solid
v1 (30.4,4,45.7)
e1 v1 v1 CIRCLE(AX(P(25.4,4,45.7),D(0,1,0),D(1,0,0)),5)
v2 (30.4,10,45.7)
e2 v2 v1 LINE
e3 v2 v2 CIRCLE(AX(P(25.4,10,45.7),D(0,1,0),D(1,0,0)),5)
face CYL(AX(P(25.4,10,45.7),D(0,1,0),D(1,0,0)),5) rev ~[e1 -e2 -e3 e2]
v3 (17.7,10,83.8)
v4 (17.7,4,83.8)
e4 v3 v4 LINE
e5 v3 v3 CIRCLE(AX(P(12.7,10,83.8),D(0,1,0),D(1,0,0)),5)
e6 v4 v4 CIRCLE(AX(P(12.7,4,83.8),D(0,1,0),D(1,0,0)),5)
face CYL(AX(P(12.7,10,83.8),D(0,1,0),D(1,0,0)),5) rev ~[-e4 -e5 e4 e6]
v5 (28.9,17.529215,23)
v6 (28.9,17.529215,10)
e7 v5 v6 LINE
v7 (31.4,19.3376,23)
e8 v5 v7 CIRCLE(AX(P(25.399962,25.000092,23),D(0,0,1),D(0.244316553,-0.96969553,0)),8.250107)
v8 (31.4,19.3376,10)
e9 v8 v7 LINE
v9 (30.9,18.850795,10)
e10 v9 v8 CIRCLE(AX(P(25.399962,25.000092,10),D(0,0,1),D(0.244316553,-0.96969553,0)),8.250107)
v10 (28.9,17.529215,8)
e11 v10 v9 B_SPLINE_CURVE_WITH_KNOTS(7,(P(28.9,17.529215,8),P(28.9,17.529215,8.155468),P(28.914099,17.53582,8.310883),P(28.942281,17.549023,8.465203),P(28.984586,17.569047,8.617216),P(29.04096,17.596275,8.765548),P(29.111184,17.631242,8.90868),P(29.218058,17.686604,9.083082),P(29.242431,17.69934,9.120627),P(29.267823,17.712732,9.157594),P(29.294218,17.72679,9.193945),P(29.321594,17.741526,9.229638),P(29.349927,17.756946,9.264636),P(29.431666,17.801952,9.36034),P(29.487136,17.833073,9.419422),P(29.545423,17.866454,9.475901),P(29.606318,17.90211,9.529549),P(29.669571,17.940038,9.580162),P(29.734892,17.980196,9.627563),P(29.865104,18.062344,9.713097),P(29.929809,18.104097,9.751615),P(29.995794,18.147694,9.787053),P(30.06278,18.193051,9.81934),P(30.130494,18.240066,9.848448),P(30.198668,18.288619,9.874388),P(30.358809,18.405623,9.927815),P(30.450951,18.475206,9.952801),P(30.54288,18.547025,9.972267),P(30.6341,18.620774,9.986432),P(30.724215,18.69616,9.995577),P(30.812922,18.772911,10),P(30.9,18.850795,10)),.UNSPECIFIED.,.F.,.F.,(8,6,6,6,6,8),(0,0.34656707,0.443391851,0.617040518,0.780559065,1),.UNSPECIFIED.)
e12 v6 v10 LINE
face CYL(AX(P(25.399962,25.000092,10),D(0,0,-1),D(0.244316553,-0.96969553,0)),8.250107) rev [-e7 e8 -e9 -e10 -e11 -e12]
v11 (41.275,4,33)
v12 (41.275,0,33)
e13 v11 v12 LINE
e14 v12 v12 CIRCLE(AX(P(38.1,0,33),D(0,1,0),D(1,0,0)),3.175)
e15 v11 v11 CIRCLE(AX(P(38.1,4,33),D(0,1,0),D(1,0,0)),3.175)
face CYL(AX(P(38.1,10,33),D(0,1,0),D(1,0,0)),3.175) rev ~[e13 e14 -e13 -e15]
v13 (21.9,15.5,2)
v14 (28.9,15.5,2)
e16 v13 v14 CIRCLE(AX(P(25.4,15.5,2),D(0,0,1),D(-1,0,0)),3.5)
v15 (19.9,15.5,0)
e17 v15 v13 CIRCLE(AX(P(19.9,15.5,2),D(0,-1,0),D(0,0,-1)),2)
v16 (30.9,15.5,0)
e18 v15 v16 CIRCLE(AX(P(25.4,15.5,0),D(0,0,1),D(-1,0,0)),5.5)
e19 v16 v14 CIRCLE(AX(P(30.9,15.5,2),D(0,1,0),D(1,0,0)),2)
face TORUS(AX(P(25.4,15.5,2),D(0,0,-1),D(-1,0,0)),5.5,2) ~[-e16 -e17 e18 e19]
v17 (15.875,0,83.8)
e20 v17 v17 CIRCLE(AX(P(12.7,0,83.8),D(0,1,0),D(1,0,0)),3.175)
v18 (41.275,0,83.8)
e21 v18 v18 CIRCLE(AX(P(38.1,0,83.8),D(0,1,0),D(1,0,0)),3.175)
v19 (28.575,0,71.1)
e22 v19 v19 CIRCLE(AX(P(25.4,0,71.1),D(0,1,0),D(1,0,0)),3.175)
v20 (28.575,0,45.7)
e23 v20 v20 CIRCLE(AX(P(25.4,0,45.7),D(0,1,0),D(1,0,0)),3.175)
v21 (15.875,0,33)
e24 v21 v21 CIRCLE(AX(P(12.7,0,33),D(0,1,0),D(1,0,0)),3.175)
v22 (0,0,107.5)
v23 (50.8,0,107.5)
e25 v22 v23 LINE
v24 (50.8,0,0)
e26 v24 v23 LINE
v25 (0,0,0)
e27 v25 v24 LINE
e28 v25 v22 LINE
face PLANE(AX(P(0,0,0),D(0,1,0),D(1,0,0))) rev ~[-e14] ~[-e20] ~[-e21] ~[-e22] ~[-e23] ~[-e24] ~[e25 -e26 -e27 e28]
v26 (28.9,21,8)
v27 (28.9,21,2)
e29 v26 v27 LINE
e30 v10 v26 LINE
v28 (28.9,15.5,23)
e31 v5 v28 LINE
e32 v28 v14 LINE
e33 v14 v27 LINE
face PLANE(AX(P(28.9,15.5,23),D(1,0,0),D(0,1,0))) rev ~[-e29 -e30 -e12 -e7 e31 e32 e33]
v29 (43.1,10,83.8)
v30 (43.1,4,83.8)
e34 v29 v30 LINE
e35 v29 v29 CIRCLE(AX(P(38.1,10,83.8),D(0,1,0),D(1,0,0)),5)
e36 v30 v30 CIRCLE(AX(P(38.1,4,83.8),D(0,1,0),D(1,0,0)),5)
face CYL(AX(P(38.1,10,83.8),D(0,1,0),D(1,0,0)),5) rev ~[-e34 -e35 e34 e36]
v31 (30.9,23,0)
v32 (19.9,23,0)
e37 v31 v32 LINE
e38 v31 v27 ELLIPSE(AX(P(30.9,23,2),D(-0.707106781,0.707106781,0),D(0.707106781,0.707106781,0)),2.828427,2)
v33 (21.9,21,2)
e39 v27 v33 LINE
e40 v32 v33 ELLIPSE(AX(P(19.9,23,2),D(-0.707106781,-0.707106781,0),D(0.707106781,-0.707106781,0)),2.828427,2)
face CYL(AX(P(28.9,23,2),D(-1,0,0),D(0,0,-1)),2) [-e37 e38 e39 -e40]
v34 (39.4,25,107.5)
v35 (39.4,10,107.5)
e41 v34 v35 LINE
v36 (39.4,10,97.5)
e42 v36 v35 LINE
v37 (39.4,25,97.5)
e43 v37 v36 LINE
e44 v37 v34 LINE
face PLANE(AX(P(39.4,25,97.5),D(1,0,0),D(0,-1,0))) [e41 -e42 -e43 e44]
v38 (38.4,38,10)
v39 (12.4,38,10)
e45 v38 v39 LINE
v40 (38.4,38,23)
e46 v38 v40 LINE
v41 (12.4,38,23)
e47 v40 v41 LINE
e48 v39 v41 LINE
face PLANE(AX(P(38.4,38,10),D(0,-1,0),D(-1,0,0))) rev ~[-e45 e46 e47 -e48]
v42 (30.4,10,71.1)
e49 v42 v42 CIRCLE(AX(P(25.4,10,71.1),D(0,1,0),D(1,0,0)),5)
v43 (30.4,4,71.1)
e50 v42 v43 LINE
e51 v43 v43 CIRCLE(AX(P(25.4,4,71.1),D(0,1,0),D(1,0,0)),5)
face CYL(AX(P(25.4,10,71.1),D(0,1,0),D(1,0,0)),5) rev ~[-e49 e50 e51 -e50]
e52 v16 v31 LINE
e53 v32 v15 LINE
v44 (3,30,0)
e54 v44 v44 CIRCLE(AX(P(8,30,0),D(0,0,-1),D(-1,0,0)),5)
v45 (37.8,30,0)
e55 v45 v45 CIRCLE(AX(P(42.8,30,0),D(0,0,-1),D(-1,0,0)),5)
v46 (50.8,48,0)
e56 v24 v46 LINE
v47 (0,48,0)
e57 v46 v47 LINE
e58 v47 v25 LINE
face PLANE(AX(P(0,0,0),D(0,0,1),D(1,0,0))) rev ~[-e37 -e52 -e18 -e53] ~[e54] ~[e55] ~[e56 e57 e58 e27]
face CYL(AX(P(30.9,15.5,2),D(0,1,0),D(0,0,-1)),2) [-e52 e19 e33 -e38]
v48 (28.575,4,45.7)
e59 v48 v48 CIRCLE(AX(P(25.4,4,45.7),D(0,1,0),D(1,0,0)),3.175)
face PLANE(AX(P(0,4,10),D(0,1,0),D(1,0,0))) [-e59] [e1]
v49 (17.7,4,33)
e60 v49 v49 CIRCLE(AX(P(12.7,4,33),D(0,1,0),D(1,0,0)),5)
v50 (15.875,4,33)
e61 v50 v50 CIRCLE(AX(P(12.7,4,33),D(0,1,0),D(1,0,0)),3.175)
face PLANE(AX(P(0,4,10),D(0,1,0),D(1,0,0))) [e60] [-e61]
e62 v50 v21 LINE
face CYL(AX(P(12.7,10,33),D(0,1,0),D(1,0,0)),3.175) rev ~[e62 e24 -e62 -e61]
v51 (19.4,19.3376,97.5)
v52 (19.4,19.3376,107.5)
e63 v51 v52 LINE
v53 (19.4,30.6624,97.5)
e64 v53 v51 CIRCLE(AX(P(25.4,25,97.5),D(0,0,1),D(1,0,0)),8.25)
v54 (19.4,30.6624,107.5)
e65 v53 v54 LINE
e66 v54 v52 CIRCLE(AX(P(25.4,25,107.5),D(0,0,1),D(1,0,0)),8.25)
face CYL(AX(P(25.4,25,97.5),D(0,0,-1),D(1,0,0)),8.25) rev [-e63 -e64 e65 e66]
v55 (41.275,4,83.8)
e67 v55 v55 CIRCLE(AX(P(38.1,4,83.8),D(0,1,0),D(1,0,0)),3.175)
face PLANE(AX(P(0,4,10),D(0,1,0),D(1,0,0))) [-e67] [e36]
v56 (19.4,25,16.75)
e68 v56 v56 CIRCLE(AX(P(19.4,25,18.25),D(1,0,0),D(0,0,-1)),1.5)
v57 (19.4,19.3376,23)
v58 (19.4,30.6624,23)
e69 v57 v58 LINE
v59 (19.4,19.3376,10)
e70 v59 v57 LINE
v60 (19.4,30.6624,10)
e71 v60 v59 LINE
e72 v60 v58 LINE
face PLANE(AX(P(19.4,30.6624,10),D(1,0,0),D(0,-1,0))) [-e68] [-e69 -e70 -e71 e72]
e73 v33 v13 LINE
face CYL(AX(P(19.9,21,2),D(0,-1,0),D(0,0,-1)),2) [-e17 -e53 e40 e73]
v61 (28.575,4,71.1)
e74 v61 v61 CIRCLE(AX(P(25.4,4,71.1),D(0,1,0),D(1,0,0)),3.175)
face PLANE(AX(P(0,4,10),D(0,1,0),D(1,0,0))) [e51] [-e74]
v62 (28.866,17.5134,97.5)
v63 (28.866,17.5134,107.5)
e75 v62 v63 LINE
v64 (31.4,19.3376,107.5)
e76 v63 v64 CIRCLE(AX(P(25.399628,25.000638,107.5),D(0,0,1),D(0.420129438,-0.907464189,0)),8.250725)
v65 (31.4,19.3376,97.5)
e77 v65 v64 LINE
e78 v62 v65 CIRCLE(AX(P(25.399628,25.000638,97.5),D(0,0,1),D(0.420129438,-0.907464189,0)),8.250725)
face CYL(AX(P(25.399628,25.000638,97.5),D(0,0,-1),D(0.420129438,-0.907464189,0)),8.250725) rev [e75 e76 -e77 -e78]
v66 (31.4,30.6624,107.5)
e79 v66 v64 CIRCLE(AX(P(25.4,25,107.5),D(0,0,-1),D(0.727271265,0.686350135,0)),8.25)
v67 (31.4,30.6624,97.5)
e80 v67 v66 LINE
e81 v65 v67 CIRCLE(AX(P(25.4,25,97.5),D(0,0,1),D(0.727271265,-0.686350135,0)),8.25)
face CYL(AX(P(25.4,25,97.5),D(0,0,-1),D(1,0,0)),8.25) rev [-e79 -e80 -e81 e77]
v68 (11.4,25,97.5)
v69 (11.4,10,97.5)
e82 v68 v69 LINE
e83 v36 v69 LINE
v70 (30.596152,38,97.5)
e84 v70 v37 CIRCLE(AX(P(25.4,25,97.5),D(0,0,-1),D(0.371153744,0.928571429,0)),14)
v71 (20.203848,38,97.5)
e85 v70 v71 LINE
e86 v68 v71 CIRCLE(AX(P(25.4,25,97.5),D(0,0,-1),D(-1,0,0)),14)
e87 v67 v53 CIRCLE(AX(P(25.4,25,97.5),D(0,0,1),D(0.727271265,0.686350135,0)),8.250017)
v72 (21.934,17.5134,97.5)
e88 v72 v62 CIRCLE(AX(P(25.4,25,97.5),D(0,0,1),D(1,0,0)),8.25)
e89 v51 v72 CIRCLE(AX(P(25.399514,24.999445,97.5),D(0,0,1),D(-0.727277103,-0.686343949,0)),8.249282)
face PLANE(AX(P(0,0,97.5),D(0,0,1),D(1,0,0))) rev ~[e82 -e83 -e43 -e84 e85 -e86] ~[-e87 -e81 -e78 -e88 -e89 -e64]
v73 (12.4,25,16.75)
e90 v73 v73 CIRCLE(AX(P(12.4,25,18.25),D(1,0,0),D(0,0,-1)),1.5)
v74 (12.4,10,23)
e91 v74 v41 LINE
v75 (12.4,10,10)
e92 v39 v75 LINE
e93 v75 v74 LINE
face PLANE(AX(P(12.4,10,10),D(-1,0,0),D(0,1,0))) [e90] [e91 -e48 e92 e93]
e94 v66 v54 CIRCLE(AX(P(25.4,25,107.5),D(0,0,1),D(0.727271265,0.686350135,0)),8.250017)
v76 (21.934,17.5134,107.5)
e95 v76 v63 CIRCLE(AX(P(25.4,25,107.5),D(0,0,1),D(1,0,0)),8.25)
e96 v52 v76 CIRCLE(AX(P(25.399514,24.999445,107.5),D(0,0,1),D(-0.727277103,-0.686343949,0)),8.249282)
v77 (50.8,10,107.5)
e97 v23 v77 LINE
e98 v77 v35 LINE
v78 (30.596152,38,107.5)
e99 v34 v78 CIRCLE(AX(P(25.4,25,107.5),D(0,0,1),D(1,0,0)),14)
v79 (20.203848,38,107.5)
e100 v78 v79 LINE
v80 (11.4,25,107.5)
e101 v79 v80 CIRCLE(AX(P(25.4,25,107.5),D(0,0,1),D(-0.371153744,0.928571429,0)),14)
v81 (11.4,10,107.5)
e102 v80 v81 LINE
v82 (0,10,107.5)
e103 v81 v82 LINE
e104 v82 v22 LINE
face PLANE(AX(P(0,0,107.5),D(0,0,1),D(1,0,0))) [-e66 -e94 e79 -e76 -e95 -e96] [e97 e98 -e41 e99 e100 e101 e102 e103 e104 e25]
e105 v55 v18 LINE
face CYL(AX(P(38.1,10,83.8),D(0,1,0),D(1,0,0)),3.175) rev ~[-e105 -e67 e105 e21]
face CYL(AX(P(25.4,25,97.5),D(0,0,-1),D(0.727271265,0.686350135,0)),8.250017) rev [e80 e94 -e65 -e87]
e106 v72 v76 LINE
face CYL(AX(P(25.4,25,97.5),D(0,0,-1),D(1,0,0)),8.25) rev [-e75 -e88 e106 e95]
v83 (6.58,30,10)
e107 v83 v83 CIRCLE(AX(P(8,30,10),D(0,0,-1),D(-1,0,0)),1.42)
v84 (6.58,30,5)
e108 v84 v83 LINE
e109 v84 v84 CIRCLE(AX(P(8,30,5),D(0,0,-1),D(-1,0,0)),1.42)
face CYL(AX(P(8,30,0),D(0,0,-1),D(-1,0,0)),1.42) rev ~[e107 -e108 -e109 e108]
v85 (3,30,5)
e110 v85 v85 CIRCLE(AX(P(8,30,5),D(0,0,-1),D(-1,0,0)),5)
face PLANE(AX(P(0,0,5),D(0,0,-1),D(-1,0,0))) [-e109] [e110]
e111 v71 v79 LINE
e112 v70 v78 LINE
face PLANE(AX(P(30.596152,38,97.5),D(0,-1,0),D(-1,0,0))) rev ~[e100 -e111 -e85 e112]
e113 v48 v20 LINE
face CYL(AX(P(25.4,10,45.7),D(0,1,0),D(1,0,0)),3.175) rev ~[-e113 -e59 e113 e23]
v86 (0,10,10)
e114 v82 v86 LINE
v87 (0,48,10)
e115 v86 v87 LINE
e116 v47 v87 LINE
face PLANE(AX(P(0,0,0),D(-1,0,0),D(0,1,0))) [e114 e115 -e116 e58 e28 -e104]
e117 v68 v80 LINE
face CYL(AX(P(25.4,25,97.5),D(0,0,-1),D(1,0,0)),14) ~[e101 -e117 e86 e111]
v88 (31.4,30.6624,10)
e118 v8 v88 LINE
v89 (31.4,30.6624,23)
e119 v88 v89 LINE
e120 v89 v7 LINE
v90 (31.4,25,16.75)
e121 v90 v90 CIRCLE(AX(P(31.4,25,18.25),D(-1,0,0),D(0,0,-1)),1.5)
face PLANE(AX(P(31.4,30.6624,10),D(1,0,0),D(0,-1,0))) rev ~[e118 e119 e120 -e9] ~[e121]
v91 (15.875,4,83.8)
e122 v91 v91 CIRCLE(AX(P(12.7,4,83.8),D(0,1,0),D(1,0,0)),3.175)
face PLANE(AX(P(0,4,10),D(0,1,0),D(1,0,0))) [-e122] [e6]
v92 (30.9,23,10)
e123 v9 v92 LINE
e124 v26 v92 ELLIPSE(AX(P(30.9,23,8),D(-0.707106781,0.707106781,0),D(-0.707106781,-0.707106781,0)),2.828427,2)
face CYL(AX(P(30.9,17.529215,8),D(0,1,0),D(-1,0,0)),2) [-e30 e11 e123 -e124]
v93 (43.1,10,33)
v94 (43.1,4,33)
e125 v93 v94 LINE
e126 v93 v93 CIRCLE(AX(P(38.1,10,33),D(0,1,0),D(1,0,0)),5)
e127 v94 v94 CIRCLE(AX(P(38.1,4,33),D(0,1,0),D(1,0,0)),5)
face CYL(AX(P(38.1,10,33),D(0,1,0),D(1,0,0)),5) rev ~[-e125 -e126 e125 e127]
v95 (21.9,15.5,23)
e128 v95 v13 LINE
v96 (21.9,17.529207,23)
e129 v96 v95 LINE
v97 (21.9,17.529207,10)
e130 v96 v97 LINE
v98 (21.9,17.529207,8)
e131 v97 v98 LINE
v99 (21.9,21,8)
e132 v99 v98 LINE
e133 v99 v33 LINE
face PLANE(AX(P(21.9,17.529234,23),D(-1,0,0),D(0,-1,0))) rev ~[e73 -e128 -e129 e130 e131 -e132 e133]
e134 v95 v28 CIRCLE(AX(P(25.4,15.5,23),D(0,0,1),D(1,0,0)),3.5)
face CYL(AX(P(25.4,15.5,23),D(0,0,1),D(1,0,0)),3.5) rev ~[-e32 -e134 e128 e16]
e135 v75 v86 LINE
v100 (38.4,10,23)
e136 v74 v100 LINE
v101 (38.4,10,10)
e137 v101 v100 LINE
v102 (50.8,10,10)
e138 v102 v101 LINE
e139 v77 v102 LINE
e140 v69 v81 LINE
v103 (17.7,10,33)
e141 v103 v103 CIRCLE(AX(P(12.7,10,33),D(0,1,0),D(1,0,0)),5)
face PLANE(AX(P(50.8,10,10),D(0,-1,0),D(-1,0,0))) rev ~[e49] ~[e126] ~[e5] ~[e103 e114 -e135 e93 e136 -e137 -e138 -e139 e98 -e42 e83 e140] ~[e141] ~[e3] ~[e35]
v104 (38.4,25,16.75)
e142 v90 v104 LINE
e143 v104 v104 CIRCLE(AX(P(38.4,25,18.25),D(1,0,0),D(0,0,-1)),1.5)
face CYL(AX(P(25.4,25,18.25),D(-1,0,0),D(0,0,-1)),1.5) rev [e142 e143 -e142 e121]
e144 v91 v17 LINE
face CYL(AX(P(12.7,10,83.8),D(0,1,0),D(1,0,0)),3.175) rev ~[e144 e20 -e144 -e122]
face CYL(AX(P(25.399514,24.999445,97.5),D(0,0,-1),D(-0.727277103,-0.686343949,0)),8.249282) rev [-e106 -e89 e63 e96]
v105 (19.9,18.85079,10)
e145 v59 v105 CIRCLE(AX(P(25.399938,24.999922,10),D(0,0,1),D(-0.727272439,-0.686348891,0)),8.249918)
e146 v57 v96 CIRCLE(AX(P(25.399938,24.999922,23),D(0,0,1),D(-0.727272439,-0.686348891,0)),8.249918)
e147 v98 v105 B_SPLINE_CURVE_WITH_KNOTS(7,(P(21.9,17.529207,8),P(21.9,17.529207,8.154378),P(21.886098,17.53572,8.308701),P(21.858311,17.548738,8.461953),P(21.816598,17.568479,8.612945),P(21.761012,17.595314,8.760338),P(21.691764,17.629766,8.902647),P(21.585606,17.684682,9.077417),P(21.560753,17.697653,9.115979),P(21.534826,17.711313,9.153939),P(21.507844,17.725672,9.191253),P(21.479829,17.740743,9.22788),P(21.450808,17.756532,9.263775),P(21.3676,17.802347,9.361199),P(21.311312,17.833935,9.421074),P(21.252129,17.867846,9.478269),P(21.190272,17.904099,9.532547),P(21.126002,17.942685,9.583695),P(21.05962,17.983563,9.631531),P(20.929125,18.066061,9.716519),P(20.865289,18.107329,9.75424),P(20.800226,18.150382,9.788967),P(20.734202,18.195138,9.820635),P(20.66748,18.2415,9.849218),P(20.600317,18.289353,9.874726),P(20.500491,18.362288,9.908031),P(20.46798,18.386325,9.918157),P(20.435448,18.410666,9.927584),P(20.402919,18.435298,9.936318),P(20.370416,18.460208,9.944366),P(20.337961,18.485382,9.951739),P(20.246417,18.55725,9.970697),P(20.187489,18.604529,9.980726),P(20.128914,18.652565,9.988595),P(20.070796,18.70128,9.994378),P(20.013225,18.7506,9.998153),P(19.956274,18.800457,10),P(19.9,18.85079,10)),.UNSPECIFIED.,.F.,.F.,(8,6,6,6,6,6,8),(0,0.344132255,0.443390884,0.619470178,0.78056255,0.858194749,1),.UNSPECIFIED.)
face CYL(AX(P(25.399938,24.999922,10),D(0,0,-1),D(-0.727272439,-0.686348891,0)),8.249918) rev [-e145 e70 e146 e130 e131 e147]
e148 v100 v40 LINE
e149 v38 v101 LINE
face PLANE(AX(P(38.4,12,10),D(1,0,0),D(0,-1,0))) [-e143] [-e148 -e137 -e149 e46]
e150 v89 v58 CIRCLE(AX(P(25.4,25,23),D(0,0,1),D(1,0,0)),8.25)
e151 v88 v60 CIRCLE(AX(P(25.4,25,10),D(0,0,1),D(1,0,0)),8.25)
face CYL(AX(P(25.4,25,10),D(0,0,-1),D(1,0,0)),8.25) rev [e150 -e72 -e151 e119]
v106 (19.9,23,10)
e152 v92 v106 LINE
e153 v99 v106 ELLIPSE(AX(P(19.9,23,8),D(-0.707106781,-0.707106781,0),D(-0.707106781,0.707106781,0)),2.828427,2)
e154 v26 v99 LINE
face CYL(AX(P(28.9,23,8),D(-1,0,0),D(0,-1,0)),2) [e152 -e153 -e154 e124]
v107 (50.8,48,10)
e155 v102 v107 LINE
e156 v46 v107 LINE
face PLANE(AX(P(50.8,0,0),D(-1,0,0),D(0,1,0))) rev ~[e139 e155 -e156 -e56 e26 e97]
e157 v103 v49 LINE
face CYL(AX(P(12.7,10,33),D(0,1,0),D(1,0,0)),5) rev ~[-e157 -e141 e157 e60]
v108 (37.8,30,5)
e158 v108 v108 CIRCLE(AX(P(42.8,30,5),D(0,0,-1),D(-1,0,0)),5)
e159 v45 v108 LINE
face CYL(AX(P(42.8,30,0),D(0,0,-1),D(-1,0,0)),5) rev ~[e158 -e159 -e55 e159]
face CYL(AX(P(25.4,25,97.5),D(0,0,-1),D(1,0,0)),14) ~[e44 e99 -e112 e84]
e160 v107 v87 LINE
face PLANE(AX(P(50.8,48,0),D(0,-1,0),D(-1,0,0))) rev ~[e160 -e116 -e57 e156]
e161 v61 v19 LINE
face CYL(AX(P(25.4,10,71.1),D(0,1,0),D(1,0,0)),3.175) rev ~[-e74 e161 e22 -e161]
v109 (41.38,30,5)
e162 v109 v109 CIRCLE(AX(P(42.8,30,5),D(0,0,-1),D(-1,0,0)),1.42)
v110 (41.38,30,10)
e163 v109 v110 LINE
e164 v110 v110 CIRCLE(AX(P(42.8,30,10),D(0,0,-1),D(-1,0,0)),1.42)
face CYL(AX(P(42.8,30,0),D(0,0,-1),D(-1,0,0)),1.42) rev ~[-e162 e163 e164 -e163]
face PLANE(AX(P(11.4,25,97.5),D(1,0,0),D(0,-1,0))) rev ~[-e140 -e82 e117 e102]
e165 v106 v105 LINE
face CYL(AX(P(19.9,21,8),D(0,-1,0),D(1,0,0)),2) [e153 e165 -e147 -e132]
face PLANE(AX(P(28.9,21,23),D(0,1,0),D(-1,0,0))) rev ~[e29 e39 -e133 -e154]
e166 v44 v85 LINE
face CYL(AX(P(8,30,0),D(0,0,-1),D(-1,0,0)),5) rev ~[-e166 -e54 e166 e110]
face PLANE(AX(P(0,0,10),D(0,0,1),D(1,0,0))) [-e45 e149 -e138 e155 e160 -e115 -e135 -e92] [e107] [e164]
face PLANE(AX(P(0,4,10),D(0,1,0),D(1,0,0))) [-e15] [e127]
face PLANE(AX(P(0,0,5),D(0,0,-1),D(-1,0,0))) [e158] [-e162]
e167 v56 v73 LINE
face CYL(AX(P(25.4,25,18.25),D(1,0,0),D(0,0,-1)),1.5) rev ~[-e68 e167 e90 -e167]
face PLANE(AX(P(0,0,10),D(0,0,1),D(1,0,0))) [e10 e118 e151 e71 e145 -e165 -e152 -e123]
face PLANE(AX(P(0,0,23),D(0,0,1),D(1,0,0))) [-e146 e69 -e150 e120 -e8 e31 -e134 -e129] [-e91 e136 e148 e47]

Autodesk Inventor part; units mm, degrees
ref_plane "YZ Plane" through (0, 0, 0) normal (1, 0, 0) x (0, 1, 0)
ref_plane "XZ Plane" through (0, 0, 0) normal (0, 1, 0) x (-1, 0, 0)
sketch "Sketch1" plane through (0, 0, 0) normal (0, 0, 1) x (1, 0, 0)
  line L0 (0, 0) -> (0, 4)
  line L1 (0, 4) -> (0, 10)
  line L2 (0, 10) -> (0, 38)
  line L3 (0, 38) -> (0, 48)
  line L4 (0, 0) -> (50.8, 0)
  line L5 (50.8, 0) -> (50.8, 48)
  line L6 (50.8, 48) -> (0, 48)
  dimension "d1" = 4
  dimension "d2" = 6
  dimension "d3" = 28
  dimension "d4" = 10
  dimension "d5" = 50.8
extrude "Extrusion1" add sketch "Sketch1" along normal blind 10
sketch "Sketch2" plane through (0, 0, 10) normal (0, 0, 1) x (1, 0, 0)
  line L0 (50.8, 48) -> (0, 48) projected
  line L1 (0, 48) -> (0, 0) projected
  line L2 (0, 0) -> (50.8, 0) projected
  line L3 (50.8, 0) -> (50.8, 48) projected
  line L4 (0, 0) -> (50.8, 0)
  line L5 (50.8, 0) -> (50.8, 10)
  line L6 (50.8, 10) -> (0, 10)
  line L7 (0, 10) -> (0, 0)
  point P0 (0, 10)
  dimension "d8" = 10
extrude "Extrusion2" add sketch "Sketch2" along normal blind 87.5 contours L3 L2 L1 L6
sketch "Sketch3" plane through (0, 0, 10) normal (0, 0, 1) x (1, 0, 0)
  line L0 (0, 10) -> (50.8, 10) projected
  line L1 (50.8, 10) -> (50.8, 48) projected
  line L2 (50.8, 48) -> (0, 48) projected
  line L3 (0, 48) -> (0, 10) projected
  line L4 (12.4, 12) -> (38.4, 12)
  line L5 (38.4, 12) -> (38.4, 38)
  line L6 (38.4, 38) -> (12.4, 38)
  line L7 (12.4, 38) -> (12.4, 12)
  line L8 (50.8, 10) -> (0, 10) projected
  line L9 (38.4, 10) -> (12.4, 10)
  line L10 (12.4, 12) -> (38.4, 12)
  line L11 (38.4, 12) -> (38.4, 10)
  line L12 (38.4, 10) -> (12.4, 10)
  line L13 (12.4, 10) -> (12.4, 12)
  arc A0 (28.9, 20.1266) -> (21.9, 20.1266) centre (25.4, 25) ccw
  line L14 (19.4, 30.6624) -> (19.4, 19.3376)
  line L15 (31.4, 30.6624) -> (31.4, 19.3376)
  line L16 (23.3844, 17) -> (27.4156, 17)
  arc A1 (19.4, 19.3376) -> (23.3844, 17) centre (25.4, 25) ccw
  arc A2 (27.4156, 17) -> (31.4, 19.3376) centre (25.4, 25) ccw
  arc A3 (21.9, 18) -> (28.9, 18) centre (25.4, 18) ccw
  line L17 (21.9, 18) -> (28.9, 18)
  line L18 (28.9, 18) -> (28.9, 20.1266)
  line L19 (21.9, 20.1266) -> (21.9, 18)
  circle A4 centre (25.4, 25) radius 8.25
  point P0 (0, 0)
  point P1 (25.4, 10)
  point P2 (25.4, 12)
  point P3 (38.4, 25)
  point P4 (12.4, 25)
  point P5 (25.4, 38)
  point P6 (19.4, 25)
  point P7 (28.866, 17.5134)
  point P8 (21.934, 17.5134)
  dimension "d12" = 0
  dimension "d13" = 26
  dimension "d14" = 26
  dimension "d19" = 10
  dimension "d22" = 0
  dimension "d23" = 0
  dimension "d25" = 12
  dimension "d26" = 0
  dimension "d27" = 0
  dimension "d28" = 7
  dimension "d29" = 0
  dimension "d31" = 7
  dimension "d32" = 16.5
extrude "Extrusion3" add sketch "Sketch3" along normal blind 13 contours L13 L4 L11 L0 | L7 L6 L5 L4 | L15 A4 | L14 A4
ref_plane "Work Plane1" through (25.4, 10, 10) normal (1, 0, 0) x (0, 0, -1)
sketch "Sketch4" plane through (25.4, 10, 10) normal (1, 0, 0) x (0, 0, -1)
  line L0 (0, 20.6624) -> (0, 9.3376) projected
  line L1 (0, 20.6624) -> (-13, 20.6624) projected
  line L2 (-13, 9.3376) -> (-13, 20.6624) projected
  line L3 (0, 9.3376) -> (-13, 9.3376) projected
  circle A0 centre (-8.25, 15) radius 1.5
  point P0 (10, -10)
  point P1 (-13, 15)
  dimension "d34" = 0
  dimension "d35" = 8.25
  dimension "d36" = 3
extrude "Extrusion4" cut sketch "Sketch4" along normal mid plane 26 contours A0
sketch "Sketch5" plane through (0, 10, 97.5) normal (0, 1, 0) x (1, 0, 0)
  line L0 (12.4, 74.5) -> (12.4, 87.5) projected
  line L1 (0, 87.5) -> (12.4, 87.5) projected
  line L2 (0, 87.5) -> (0, 0) projected
  line L3 (50.8, 0) -> (0, 0) projected
  line L4 (50.8, 87.5) -> (50.8, 0) projected
  line L5 (38.4, 87.5) -> (50.8, 87.5) projected
  line L6 (38.4, 87.5) -> (38.4, 74.5) projected
  line L7 (38.4, 74.5) -> (12.4, 74.5) projected
  circle A0 centre (25.4, 51.8) radius 3.175
  line L8 (50.8, 87.5) -> (0, 87.5) projected
  circle A1 centre (12.7, 64.5) radius 3.175
  circle A2 centre (38.1, 64.5) radius 3.175
  line L9 (-10.8452, 39.1) -> (75.4395, 39.1)
  circle A3 centre (25.4, 26.4) radius 3.175
  circle A4 centre (12.7, 13.7) radius 3.175
  circle A5 centre (38.1, 13.7) radius 3.175
  point P0 (0, 97.5)
  point P1 (25.4, 0)
  dimension "d39" = 35.7
  dimension "d40" = 0
  dimension "d41" = 6.35
  dimension "d42" = 12.7
  dimension "d43" = 12.7
  dimension "d44" = 12.7
  dimension "d45" = 12.7
  dimension "d46" = 12.7
  dimension "d73" = 6.35
  dimension "d74" = 6.35
extrude "Extrusion5" cut sketch "Sketch5" against normal blind 26 contours A0 | A1 | A2 | A3 | A4 | A5
sketch "Sketch6" plane through (0, 0, 0) normal (0, 0, -1) x (-1, 0, 0)
  line L0 (-12.4, 10) -> (-12.4, 38) projected
  line L1 (-12.4, 38) -> (-38.4, 38) projected
  line L2 (-38.4, 38) -> (-38.4, 10) projected
  line L3 (-38.4, 10) -> (-50.8, 10) projected
  line L4 (-50.8, 10) -> (-50.8, 48) projected
  line L5 (-50.8, 48) -> (0, 48) projected
  line L6 (0, 48) -> (0, 10) projected
  line L7 (0, 10) -> (-12.4, 10) projected
  circle A0 centre (-42.8, 30) radius 1.42
  line L8 (-25.4, -18.8015) -> (-25.4, 63.6237)
  circle A1 centre (-8, 30) radius 1.42
  point P0 (0, 0)
  point P1 (-25.4, 48)
  dimension "d49" = 0
  dimension "d50" = 8
  dimension "d51" = 8
  dimension "d52" = 2.84
extrude "Extrusion6" cut sketch "Sketch6" against normal blind 26 contours A0 | A1
sketch "Sketch7" plane through (0, 0, 97.5) normal (0, 0, 1) x (1, 0, 0)
  line L0 (0, 10) -> (0, 0) projected
  line L1 (0, 0) -> (50.8, 0) projected
  line L2 (50.8, 0) -> (50.8, 10) projected
  line L3 (50.8, 10) -> (0, 10) projected
  line L4 (12.4, 38) -> (12.4, 10) projected
  line L5 (38.4, 10) -> (12.4, 10) projected
  line L6 (38.4, 10) -> (38.4, 38) projected
  line L7 (38.4, 38) -> (12.4, 38) projected
  arc A0 (31.4, 30.6624) -> (19.4, 30.6624) centre (25.4, 25) ccw projected
  line L8 (31.4, 30.6624) -> (31.4, 19.3376) projected
  arc A1 (28.866, 17.5134) -> (31.4, 19.3376) centre (25.4, 25) ccw projected
  arc A2 (21.934, 17.5134) -> (28.866, 17.5134) centre (25.4, 18) ccw projected
  arc A3 (19.4, 19.3376) -> (21.934, 17.5134) centre (25.4, 25) ccw projected
  line L9 (19.4, 19.3376) -> (19.4, 30.6624) projected
  circle A4 centre (25.4, 25) radius 14
  circle A5 centre (25.4, 25) radius 8.25
  line L10 (11.4, 25) -> (11.4, 10)
  line L11 (39.4, 25) -> (39.4, 10)
  line L12 (0, 10) -> (50.8, 10)
  line L13 (50.8, 10) -> (50.8, 0)
  line L14 (50.8, 0) -> (0, 0)
  line L15 (0, 0) -> (0, 10)
  circle A6 centre (8, 30) radius 1.42 projected
  circle A7 centre (42.8, 30) radius 1.42 projected
  line L16 (12.4, 10) -> (12.4, 38) projected
  line L17 (12.4, 38) -> (38.4, 38) projected
  line L18 (38.4, 38) -> (38.4, 10) projected
  line L19 (38.4, 10) -> (50.8, 10) projected
  line L20 (50.8, 10) -> (50.8, 48) projected
  line L21 (50.8, 48) -> (0, 48) projected
  line L22 (0, 48) -> (0, 10) projected
  line L23 (0, 10) -> (12.4, 10) projected
  circle A8 centre (8, 30) radius 3
  circle A9 centre (42.8, 30) radius 3
  line L24 (12.4, 38) -> (38.4, 38)
  line L25 (38.4, 38) -> (38.4, 42.0795)
  line L26 (38.4, 42.0795) -> (12.4, 42.0795)
  line L27 (12.4, 42.0795) -> (12.4, 38)
  point P0 (30.5962, 38)
  point P1 (20.2038, 38)
  dimension "d55" = 28
  dimension "d56" = 16.5
  dimension "d57" = 6
  dimension "d58" = 6
extrude "Extrusion7" add sketch "Sketch7" along normal blind 10 contours L3 L2 L1 L0 | L10 A4 L4 L3 | L4 A4 L6 L3 | A4 L4 | L6 A4 L11 L3 | L4 A4 L7 L6 | L6 A4 | A2 A5
sketch "Sketch8" plane through (0, 10, 10) normal (0, 1, 0) x (1, 0, 0)
  circle A0 centre (38.1, -73.8) radius 3.175 projected
  circle A1 centre (38.1, -23) radius 3.175 projected
  circle A2 centre (25.4, -61.1) radius 3.175 projected
  circle A3 centre (25.4, -35.7) radius 3.175 projected
  circle A4 centre (12.7, -23) radius 3.175 projected
  circle A5 centre (12.7, -73.8) radius 3.175 projected
  line L0 (12.4, -13) -> (12.4, 0) projected
  line L1 (0, 0) -> (12.4, 0) projected
  line L2 (0, 0) -> (0, -97.5) projected
  line L3 (11.4, -97.5) -> (0, -97.5) projected
  line L4 (11.4, -87.5) -> (11.4, -97.5) projected
  line L5 (39.4, -87.5) -> (11.4, -87.5) projected
  line L6 (39.4, -87.5) -> (39.4, -97.5) projected
  line L7 (50.8, -97.5) -> (39.4, -97.5) projected
  line L8 (50.8, 0) -> (50.8, -97.5) projected
  line L9 (38.4, 0) -> (50.8, 0) projected
  line L10 (38.4, 0) -> (38.4, -13) projected
  line L11 (38.4, -13) -> (12.4, -13) projected
  circle A6 centre (25.4, -35.7) radius 5
  circle A7 centre (12.7, -23) radius 5
  circle A8 centre (38.1, -23) radius 5
  circle A9 centre (25.4, -61.1) radius 5
  circle A10 centre (12.7, -73.8) radius 3.175 projected
  circle A11 centre (12.7, -73.8) radius 5
  circle A12 centre (38.1, -73.8) radius 5
  point P0 (0, 10)
  dimension "d61" = 10
  dimension "d62" = 10
  dimension "d63" = 10
  dimension "d64" = 10
  dimension "d65" = 10
  dimension "d66" = 10
extrude "Extrusion8" cut sketch "Sketch8" against normal blind 6 contours A2 | A6 | A7 | A8 | A9 | A11 | A12
sketch "Sketch9" plane through (0, 0, 0) normal (0, 0, -1) x (-1, 0, 0)
  circle A0 centre (-8, 30) radius 1.42 projected
  circle A1 centre (-42.8, 30) radius 1.42 projected
  line L0 (-50.8, 48) -> (0, 48) projected
  line L1 (-50.8, 0) -> (-50.8, 48) projected
  line L2 (0, 0) -> (-50.8, 0) projected
  line L3 (0, 48) -> (0, 0) projected
  circle A2 centre (-42.8, 30) radius 5
  circle A3 centre (-8, 30) radius 5
  dimension "d69" = 10
  dimension "d70" = 10
extrude "Extrusion9" cut sketch "Sketch9" against normal blind 5 contours A1 | A2 | A3
sketch "Sketch10" plane through (0, 0, 23) normal (0, 0, 1) x (1, 0, 0)
  line L0 (12.4, 38) -> (12.4, 10) projected
  line L1 (38.4, 10) -> (12.4, 10) projected
  line L2 (38.4, 10) -> (38.4, 38) projected
  line L3 (38.4, 38) -> (12.4, 38) projected
  arc A0 (31.4, 30.6624) -> (19.4, 30.6624) centre (25.4, 25) ccw projected
  line L4 (31.4, 30.6624) -> (31.4, 19.3376) projected
  arc A1 (28.866, 17.5134) -> (31.4, 19.3376) centre (25.4, 25) ccw projected
  arc A2 (21.934, 17.5134) -> (28.866, 17.5134) centre (25.4, 18) ccw projected
  arc A3 (19.4, 19.3376) -> (21.934, 17.5134) centre (25.4, 25) ccw projected
  line L5 (19.4, 19.3376) -> (19.4, 30.6624) projected
  circle A4 centre (25.4, 15.5) radius 3.5
  line L6 (21.9, 15.5) -> (28.9, 15.5)
  line L7 (28.9, 15.5) -> (28.9, 21)
  line L8 (28.9, 21) -> (21.9, 21)
  line L9 (21.9, 21) -> (21.9, 15.5)
  point P0 (0, 0)
  dimension "d75" = 7
  dimension "d76" = 5.5
  dimension "d77" = 0
  dimension "d78" = 7
  dimension "d79" = 5.5
extrude "Extrusion10" cut sketch "Sketch10" against normal through all contours L7 A4 A2 A1 | A1 A2 A4 A3 L9 L8 L7 | A3 A2 A4 L9 | L6 A2 A4 | A4 L6 A2 | A4 A2 L6 | A2 L6 A4 | A2 L6
fillet "Fillet1" radius 2 7 edges at (25.4, 21, 10) (21.9, 19.2646, 10) (28.9, 19.2646, 10) (28.9, 18.25, 0) (21.9, 18.25, 0) (25.4, 12, 0) (25.4, 21, 0)
equation "\"d4\" = Thick_Wall"
equation "\"d5\" = Platform_Width"
equation "\"d6\" = Thick_Wall"
equation "\"d8\" = d1 + d2"
equation "\"d19\" = Thick_Wall"
equation "\"d41\" = Tabletop_Hole_Diameter"
equation "\"d42\" = d43"
equation "\"d43\" = 0.5 * Tabletop_Hole_Spacing"
equation "\"d44\" = d43"
equation "\"d45\" = d43"
equation "\"d46\" = d43"
equation "\"d73\" = d41"
equation "\"d74\" = d41"
equation "\"d57\" = Guide_Rod_Diameter"
equation "\"d58\" = Guide_Rod_Diameter"
equation "\"d59\" = Thick_Wall"
equation "\"d62\" = d61"
equation "\"d63\" = d61"
equation "\"d64\" = d61"
equation "\"d65\" = d61"
equation "\"d66\" = d61"
equation "\"d67\" = d2"
equation "\"d71\" = 0.5 * Thick_Wall"
equation "\"d78\" = d75"
equation "\"Platform_Width\" = 50.8"
equation "\"Platform_Length\" = 245"
equation "\"Guide_Hole_Offset\" = 13.51"
equation "\"Guide_Rod_Diameter\" = 6"
equation "\"Guide_Rod_Length\" = 304.8"
equation "\"Thin_Wall\" = 5"
equation "\"Thick_Wall\" = 10"
equation "\"Tabletop_Hole_Spacing\" = 25.4"
equation "\"Tabletop_Hole_Diameter\" = 6.35"
equation "\"Platform_Hole_Spacing\" = 25.4"
equation "\"Platform_Hole_Diameter\" = 6.35"
equation "\"d15\" = Thin_Wall"
equation "\"d17\" = d15"
equation "\"Actuator_Housing_W\" = 26"
equation "\"Sliding_Clearance\" = 2"
equation "\"Platform_GuideRod_OD\" = 16.5"
properties part number "Actuator Mount"
